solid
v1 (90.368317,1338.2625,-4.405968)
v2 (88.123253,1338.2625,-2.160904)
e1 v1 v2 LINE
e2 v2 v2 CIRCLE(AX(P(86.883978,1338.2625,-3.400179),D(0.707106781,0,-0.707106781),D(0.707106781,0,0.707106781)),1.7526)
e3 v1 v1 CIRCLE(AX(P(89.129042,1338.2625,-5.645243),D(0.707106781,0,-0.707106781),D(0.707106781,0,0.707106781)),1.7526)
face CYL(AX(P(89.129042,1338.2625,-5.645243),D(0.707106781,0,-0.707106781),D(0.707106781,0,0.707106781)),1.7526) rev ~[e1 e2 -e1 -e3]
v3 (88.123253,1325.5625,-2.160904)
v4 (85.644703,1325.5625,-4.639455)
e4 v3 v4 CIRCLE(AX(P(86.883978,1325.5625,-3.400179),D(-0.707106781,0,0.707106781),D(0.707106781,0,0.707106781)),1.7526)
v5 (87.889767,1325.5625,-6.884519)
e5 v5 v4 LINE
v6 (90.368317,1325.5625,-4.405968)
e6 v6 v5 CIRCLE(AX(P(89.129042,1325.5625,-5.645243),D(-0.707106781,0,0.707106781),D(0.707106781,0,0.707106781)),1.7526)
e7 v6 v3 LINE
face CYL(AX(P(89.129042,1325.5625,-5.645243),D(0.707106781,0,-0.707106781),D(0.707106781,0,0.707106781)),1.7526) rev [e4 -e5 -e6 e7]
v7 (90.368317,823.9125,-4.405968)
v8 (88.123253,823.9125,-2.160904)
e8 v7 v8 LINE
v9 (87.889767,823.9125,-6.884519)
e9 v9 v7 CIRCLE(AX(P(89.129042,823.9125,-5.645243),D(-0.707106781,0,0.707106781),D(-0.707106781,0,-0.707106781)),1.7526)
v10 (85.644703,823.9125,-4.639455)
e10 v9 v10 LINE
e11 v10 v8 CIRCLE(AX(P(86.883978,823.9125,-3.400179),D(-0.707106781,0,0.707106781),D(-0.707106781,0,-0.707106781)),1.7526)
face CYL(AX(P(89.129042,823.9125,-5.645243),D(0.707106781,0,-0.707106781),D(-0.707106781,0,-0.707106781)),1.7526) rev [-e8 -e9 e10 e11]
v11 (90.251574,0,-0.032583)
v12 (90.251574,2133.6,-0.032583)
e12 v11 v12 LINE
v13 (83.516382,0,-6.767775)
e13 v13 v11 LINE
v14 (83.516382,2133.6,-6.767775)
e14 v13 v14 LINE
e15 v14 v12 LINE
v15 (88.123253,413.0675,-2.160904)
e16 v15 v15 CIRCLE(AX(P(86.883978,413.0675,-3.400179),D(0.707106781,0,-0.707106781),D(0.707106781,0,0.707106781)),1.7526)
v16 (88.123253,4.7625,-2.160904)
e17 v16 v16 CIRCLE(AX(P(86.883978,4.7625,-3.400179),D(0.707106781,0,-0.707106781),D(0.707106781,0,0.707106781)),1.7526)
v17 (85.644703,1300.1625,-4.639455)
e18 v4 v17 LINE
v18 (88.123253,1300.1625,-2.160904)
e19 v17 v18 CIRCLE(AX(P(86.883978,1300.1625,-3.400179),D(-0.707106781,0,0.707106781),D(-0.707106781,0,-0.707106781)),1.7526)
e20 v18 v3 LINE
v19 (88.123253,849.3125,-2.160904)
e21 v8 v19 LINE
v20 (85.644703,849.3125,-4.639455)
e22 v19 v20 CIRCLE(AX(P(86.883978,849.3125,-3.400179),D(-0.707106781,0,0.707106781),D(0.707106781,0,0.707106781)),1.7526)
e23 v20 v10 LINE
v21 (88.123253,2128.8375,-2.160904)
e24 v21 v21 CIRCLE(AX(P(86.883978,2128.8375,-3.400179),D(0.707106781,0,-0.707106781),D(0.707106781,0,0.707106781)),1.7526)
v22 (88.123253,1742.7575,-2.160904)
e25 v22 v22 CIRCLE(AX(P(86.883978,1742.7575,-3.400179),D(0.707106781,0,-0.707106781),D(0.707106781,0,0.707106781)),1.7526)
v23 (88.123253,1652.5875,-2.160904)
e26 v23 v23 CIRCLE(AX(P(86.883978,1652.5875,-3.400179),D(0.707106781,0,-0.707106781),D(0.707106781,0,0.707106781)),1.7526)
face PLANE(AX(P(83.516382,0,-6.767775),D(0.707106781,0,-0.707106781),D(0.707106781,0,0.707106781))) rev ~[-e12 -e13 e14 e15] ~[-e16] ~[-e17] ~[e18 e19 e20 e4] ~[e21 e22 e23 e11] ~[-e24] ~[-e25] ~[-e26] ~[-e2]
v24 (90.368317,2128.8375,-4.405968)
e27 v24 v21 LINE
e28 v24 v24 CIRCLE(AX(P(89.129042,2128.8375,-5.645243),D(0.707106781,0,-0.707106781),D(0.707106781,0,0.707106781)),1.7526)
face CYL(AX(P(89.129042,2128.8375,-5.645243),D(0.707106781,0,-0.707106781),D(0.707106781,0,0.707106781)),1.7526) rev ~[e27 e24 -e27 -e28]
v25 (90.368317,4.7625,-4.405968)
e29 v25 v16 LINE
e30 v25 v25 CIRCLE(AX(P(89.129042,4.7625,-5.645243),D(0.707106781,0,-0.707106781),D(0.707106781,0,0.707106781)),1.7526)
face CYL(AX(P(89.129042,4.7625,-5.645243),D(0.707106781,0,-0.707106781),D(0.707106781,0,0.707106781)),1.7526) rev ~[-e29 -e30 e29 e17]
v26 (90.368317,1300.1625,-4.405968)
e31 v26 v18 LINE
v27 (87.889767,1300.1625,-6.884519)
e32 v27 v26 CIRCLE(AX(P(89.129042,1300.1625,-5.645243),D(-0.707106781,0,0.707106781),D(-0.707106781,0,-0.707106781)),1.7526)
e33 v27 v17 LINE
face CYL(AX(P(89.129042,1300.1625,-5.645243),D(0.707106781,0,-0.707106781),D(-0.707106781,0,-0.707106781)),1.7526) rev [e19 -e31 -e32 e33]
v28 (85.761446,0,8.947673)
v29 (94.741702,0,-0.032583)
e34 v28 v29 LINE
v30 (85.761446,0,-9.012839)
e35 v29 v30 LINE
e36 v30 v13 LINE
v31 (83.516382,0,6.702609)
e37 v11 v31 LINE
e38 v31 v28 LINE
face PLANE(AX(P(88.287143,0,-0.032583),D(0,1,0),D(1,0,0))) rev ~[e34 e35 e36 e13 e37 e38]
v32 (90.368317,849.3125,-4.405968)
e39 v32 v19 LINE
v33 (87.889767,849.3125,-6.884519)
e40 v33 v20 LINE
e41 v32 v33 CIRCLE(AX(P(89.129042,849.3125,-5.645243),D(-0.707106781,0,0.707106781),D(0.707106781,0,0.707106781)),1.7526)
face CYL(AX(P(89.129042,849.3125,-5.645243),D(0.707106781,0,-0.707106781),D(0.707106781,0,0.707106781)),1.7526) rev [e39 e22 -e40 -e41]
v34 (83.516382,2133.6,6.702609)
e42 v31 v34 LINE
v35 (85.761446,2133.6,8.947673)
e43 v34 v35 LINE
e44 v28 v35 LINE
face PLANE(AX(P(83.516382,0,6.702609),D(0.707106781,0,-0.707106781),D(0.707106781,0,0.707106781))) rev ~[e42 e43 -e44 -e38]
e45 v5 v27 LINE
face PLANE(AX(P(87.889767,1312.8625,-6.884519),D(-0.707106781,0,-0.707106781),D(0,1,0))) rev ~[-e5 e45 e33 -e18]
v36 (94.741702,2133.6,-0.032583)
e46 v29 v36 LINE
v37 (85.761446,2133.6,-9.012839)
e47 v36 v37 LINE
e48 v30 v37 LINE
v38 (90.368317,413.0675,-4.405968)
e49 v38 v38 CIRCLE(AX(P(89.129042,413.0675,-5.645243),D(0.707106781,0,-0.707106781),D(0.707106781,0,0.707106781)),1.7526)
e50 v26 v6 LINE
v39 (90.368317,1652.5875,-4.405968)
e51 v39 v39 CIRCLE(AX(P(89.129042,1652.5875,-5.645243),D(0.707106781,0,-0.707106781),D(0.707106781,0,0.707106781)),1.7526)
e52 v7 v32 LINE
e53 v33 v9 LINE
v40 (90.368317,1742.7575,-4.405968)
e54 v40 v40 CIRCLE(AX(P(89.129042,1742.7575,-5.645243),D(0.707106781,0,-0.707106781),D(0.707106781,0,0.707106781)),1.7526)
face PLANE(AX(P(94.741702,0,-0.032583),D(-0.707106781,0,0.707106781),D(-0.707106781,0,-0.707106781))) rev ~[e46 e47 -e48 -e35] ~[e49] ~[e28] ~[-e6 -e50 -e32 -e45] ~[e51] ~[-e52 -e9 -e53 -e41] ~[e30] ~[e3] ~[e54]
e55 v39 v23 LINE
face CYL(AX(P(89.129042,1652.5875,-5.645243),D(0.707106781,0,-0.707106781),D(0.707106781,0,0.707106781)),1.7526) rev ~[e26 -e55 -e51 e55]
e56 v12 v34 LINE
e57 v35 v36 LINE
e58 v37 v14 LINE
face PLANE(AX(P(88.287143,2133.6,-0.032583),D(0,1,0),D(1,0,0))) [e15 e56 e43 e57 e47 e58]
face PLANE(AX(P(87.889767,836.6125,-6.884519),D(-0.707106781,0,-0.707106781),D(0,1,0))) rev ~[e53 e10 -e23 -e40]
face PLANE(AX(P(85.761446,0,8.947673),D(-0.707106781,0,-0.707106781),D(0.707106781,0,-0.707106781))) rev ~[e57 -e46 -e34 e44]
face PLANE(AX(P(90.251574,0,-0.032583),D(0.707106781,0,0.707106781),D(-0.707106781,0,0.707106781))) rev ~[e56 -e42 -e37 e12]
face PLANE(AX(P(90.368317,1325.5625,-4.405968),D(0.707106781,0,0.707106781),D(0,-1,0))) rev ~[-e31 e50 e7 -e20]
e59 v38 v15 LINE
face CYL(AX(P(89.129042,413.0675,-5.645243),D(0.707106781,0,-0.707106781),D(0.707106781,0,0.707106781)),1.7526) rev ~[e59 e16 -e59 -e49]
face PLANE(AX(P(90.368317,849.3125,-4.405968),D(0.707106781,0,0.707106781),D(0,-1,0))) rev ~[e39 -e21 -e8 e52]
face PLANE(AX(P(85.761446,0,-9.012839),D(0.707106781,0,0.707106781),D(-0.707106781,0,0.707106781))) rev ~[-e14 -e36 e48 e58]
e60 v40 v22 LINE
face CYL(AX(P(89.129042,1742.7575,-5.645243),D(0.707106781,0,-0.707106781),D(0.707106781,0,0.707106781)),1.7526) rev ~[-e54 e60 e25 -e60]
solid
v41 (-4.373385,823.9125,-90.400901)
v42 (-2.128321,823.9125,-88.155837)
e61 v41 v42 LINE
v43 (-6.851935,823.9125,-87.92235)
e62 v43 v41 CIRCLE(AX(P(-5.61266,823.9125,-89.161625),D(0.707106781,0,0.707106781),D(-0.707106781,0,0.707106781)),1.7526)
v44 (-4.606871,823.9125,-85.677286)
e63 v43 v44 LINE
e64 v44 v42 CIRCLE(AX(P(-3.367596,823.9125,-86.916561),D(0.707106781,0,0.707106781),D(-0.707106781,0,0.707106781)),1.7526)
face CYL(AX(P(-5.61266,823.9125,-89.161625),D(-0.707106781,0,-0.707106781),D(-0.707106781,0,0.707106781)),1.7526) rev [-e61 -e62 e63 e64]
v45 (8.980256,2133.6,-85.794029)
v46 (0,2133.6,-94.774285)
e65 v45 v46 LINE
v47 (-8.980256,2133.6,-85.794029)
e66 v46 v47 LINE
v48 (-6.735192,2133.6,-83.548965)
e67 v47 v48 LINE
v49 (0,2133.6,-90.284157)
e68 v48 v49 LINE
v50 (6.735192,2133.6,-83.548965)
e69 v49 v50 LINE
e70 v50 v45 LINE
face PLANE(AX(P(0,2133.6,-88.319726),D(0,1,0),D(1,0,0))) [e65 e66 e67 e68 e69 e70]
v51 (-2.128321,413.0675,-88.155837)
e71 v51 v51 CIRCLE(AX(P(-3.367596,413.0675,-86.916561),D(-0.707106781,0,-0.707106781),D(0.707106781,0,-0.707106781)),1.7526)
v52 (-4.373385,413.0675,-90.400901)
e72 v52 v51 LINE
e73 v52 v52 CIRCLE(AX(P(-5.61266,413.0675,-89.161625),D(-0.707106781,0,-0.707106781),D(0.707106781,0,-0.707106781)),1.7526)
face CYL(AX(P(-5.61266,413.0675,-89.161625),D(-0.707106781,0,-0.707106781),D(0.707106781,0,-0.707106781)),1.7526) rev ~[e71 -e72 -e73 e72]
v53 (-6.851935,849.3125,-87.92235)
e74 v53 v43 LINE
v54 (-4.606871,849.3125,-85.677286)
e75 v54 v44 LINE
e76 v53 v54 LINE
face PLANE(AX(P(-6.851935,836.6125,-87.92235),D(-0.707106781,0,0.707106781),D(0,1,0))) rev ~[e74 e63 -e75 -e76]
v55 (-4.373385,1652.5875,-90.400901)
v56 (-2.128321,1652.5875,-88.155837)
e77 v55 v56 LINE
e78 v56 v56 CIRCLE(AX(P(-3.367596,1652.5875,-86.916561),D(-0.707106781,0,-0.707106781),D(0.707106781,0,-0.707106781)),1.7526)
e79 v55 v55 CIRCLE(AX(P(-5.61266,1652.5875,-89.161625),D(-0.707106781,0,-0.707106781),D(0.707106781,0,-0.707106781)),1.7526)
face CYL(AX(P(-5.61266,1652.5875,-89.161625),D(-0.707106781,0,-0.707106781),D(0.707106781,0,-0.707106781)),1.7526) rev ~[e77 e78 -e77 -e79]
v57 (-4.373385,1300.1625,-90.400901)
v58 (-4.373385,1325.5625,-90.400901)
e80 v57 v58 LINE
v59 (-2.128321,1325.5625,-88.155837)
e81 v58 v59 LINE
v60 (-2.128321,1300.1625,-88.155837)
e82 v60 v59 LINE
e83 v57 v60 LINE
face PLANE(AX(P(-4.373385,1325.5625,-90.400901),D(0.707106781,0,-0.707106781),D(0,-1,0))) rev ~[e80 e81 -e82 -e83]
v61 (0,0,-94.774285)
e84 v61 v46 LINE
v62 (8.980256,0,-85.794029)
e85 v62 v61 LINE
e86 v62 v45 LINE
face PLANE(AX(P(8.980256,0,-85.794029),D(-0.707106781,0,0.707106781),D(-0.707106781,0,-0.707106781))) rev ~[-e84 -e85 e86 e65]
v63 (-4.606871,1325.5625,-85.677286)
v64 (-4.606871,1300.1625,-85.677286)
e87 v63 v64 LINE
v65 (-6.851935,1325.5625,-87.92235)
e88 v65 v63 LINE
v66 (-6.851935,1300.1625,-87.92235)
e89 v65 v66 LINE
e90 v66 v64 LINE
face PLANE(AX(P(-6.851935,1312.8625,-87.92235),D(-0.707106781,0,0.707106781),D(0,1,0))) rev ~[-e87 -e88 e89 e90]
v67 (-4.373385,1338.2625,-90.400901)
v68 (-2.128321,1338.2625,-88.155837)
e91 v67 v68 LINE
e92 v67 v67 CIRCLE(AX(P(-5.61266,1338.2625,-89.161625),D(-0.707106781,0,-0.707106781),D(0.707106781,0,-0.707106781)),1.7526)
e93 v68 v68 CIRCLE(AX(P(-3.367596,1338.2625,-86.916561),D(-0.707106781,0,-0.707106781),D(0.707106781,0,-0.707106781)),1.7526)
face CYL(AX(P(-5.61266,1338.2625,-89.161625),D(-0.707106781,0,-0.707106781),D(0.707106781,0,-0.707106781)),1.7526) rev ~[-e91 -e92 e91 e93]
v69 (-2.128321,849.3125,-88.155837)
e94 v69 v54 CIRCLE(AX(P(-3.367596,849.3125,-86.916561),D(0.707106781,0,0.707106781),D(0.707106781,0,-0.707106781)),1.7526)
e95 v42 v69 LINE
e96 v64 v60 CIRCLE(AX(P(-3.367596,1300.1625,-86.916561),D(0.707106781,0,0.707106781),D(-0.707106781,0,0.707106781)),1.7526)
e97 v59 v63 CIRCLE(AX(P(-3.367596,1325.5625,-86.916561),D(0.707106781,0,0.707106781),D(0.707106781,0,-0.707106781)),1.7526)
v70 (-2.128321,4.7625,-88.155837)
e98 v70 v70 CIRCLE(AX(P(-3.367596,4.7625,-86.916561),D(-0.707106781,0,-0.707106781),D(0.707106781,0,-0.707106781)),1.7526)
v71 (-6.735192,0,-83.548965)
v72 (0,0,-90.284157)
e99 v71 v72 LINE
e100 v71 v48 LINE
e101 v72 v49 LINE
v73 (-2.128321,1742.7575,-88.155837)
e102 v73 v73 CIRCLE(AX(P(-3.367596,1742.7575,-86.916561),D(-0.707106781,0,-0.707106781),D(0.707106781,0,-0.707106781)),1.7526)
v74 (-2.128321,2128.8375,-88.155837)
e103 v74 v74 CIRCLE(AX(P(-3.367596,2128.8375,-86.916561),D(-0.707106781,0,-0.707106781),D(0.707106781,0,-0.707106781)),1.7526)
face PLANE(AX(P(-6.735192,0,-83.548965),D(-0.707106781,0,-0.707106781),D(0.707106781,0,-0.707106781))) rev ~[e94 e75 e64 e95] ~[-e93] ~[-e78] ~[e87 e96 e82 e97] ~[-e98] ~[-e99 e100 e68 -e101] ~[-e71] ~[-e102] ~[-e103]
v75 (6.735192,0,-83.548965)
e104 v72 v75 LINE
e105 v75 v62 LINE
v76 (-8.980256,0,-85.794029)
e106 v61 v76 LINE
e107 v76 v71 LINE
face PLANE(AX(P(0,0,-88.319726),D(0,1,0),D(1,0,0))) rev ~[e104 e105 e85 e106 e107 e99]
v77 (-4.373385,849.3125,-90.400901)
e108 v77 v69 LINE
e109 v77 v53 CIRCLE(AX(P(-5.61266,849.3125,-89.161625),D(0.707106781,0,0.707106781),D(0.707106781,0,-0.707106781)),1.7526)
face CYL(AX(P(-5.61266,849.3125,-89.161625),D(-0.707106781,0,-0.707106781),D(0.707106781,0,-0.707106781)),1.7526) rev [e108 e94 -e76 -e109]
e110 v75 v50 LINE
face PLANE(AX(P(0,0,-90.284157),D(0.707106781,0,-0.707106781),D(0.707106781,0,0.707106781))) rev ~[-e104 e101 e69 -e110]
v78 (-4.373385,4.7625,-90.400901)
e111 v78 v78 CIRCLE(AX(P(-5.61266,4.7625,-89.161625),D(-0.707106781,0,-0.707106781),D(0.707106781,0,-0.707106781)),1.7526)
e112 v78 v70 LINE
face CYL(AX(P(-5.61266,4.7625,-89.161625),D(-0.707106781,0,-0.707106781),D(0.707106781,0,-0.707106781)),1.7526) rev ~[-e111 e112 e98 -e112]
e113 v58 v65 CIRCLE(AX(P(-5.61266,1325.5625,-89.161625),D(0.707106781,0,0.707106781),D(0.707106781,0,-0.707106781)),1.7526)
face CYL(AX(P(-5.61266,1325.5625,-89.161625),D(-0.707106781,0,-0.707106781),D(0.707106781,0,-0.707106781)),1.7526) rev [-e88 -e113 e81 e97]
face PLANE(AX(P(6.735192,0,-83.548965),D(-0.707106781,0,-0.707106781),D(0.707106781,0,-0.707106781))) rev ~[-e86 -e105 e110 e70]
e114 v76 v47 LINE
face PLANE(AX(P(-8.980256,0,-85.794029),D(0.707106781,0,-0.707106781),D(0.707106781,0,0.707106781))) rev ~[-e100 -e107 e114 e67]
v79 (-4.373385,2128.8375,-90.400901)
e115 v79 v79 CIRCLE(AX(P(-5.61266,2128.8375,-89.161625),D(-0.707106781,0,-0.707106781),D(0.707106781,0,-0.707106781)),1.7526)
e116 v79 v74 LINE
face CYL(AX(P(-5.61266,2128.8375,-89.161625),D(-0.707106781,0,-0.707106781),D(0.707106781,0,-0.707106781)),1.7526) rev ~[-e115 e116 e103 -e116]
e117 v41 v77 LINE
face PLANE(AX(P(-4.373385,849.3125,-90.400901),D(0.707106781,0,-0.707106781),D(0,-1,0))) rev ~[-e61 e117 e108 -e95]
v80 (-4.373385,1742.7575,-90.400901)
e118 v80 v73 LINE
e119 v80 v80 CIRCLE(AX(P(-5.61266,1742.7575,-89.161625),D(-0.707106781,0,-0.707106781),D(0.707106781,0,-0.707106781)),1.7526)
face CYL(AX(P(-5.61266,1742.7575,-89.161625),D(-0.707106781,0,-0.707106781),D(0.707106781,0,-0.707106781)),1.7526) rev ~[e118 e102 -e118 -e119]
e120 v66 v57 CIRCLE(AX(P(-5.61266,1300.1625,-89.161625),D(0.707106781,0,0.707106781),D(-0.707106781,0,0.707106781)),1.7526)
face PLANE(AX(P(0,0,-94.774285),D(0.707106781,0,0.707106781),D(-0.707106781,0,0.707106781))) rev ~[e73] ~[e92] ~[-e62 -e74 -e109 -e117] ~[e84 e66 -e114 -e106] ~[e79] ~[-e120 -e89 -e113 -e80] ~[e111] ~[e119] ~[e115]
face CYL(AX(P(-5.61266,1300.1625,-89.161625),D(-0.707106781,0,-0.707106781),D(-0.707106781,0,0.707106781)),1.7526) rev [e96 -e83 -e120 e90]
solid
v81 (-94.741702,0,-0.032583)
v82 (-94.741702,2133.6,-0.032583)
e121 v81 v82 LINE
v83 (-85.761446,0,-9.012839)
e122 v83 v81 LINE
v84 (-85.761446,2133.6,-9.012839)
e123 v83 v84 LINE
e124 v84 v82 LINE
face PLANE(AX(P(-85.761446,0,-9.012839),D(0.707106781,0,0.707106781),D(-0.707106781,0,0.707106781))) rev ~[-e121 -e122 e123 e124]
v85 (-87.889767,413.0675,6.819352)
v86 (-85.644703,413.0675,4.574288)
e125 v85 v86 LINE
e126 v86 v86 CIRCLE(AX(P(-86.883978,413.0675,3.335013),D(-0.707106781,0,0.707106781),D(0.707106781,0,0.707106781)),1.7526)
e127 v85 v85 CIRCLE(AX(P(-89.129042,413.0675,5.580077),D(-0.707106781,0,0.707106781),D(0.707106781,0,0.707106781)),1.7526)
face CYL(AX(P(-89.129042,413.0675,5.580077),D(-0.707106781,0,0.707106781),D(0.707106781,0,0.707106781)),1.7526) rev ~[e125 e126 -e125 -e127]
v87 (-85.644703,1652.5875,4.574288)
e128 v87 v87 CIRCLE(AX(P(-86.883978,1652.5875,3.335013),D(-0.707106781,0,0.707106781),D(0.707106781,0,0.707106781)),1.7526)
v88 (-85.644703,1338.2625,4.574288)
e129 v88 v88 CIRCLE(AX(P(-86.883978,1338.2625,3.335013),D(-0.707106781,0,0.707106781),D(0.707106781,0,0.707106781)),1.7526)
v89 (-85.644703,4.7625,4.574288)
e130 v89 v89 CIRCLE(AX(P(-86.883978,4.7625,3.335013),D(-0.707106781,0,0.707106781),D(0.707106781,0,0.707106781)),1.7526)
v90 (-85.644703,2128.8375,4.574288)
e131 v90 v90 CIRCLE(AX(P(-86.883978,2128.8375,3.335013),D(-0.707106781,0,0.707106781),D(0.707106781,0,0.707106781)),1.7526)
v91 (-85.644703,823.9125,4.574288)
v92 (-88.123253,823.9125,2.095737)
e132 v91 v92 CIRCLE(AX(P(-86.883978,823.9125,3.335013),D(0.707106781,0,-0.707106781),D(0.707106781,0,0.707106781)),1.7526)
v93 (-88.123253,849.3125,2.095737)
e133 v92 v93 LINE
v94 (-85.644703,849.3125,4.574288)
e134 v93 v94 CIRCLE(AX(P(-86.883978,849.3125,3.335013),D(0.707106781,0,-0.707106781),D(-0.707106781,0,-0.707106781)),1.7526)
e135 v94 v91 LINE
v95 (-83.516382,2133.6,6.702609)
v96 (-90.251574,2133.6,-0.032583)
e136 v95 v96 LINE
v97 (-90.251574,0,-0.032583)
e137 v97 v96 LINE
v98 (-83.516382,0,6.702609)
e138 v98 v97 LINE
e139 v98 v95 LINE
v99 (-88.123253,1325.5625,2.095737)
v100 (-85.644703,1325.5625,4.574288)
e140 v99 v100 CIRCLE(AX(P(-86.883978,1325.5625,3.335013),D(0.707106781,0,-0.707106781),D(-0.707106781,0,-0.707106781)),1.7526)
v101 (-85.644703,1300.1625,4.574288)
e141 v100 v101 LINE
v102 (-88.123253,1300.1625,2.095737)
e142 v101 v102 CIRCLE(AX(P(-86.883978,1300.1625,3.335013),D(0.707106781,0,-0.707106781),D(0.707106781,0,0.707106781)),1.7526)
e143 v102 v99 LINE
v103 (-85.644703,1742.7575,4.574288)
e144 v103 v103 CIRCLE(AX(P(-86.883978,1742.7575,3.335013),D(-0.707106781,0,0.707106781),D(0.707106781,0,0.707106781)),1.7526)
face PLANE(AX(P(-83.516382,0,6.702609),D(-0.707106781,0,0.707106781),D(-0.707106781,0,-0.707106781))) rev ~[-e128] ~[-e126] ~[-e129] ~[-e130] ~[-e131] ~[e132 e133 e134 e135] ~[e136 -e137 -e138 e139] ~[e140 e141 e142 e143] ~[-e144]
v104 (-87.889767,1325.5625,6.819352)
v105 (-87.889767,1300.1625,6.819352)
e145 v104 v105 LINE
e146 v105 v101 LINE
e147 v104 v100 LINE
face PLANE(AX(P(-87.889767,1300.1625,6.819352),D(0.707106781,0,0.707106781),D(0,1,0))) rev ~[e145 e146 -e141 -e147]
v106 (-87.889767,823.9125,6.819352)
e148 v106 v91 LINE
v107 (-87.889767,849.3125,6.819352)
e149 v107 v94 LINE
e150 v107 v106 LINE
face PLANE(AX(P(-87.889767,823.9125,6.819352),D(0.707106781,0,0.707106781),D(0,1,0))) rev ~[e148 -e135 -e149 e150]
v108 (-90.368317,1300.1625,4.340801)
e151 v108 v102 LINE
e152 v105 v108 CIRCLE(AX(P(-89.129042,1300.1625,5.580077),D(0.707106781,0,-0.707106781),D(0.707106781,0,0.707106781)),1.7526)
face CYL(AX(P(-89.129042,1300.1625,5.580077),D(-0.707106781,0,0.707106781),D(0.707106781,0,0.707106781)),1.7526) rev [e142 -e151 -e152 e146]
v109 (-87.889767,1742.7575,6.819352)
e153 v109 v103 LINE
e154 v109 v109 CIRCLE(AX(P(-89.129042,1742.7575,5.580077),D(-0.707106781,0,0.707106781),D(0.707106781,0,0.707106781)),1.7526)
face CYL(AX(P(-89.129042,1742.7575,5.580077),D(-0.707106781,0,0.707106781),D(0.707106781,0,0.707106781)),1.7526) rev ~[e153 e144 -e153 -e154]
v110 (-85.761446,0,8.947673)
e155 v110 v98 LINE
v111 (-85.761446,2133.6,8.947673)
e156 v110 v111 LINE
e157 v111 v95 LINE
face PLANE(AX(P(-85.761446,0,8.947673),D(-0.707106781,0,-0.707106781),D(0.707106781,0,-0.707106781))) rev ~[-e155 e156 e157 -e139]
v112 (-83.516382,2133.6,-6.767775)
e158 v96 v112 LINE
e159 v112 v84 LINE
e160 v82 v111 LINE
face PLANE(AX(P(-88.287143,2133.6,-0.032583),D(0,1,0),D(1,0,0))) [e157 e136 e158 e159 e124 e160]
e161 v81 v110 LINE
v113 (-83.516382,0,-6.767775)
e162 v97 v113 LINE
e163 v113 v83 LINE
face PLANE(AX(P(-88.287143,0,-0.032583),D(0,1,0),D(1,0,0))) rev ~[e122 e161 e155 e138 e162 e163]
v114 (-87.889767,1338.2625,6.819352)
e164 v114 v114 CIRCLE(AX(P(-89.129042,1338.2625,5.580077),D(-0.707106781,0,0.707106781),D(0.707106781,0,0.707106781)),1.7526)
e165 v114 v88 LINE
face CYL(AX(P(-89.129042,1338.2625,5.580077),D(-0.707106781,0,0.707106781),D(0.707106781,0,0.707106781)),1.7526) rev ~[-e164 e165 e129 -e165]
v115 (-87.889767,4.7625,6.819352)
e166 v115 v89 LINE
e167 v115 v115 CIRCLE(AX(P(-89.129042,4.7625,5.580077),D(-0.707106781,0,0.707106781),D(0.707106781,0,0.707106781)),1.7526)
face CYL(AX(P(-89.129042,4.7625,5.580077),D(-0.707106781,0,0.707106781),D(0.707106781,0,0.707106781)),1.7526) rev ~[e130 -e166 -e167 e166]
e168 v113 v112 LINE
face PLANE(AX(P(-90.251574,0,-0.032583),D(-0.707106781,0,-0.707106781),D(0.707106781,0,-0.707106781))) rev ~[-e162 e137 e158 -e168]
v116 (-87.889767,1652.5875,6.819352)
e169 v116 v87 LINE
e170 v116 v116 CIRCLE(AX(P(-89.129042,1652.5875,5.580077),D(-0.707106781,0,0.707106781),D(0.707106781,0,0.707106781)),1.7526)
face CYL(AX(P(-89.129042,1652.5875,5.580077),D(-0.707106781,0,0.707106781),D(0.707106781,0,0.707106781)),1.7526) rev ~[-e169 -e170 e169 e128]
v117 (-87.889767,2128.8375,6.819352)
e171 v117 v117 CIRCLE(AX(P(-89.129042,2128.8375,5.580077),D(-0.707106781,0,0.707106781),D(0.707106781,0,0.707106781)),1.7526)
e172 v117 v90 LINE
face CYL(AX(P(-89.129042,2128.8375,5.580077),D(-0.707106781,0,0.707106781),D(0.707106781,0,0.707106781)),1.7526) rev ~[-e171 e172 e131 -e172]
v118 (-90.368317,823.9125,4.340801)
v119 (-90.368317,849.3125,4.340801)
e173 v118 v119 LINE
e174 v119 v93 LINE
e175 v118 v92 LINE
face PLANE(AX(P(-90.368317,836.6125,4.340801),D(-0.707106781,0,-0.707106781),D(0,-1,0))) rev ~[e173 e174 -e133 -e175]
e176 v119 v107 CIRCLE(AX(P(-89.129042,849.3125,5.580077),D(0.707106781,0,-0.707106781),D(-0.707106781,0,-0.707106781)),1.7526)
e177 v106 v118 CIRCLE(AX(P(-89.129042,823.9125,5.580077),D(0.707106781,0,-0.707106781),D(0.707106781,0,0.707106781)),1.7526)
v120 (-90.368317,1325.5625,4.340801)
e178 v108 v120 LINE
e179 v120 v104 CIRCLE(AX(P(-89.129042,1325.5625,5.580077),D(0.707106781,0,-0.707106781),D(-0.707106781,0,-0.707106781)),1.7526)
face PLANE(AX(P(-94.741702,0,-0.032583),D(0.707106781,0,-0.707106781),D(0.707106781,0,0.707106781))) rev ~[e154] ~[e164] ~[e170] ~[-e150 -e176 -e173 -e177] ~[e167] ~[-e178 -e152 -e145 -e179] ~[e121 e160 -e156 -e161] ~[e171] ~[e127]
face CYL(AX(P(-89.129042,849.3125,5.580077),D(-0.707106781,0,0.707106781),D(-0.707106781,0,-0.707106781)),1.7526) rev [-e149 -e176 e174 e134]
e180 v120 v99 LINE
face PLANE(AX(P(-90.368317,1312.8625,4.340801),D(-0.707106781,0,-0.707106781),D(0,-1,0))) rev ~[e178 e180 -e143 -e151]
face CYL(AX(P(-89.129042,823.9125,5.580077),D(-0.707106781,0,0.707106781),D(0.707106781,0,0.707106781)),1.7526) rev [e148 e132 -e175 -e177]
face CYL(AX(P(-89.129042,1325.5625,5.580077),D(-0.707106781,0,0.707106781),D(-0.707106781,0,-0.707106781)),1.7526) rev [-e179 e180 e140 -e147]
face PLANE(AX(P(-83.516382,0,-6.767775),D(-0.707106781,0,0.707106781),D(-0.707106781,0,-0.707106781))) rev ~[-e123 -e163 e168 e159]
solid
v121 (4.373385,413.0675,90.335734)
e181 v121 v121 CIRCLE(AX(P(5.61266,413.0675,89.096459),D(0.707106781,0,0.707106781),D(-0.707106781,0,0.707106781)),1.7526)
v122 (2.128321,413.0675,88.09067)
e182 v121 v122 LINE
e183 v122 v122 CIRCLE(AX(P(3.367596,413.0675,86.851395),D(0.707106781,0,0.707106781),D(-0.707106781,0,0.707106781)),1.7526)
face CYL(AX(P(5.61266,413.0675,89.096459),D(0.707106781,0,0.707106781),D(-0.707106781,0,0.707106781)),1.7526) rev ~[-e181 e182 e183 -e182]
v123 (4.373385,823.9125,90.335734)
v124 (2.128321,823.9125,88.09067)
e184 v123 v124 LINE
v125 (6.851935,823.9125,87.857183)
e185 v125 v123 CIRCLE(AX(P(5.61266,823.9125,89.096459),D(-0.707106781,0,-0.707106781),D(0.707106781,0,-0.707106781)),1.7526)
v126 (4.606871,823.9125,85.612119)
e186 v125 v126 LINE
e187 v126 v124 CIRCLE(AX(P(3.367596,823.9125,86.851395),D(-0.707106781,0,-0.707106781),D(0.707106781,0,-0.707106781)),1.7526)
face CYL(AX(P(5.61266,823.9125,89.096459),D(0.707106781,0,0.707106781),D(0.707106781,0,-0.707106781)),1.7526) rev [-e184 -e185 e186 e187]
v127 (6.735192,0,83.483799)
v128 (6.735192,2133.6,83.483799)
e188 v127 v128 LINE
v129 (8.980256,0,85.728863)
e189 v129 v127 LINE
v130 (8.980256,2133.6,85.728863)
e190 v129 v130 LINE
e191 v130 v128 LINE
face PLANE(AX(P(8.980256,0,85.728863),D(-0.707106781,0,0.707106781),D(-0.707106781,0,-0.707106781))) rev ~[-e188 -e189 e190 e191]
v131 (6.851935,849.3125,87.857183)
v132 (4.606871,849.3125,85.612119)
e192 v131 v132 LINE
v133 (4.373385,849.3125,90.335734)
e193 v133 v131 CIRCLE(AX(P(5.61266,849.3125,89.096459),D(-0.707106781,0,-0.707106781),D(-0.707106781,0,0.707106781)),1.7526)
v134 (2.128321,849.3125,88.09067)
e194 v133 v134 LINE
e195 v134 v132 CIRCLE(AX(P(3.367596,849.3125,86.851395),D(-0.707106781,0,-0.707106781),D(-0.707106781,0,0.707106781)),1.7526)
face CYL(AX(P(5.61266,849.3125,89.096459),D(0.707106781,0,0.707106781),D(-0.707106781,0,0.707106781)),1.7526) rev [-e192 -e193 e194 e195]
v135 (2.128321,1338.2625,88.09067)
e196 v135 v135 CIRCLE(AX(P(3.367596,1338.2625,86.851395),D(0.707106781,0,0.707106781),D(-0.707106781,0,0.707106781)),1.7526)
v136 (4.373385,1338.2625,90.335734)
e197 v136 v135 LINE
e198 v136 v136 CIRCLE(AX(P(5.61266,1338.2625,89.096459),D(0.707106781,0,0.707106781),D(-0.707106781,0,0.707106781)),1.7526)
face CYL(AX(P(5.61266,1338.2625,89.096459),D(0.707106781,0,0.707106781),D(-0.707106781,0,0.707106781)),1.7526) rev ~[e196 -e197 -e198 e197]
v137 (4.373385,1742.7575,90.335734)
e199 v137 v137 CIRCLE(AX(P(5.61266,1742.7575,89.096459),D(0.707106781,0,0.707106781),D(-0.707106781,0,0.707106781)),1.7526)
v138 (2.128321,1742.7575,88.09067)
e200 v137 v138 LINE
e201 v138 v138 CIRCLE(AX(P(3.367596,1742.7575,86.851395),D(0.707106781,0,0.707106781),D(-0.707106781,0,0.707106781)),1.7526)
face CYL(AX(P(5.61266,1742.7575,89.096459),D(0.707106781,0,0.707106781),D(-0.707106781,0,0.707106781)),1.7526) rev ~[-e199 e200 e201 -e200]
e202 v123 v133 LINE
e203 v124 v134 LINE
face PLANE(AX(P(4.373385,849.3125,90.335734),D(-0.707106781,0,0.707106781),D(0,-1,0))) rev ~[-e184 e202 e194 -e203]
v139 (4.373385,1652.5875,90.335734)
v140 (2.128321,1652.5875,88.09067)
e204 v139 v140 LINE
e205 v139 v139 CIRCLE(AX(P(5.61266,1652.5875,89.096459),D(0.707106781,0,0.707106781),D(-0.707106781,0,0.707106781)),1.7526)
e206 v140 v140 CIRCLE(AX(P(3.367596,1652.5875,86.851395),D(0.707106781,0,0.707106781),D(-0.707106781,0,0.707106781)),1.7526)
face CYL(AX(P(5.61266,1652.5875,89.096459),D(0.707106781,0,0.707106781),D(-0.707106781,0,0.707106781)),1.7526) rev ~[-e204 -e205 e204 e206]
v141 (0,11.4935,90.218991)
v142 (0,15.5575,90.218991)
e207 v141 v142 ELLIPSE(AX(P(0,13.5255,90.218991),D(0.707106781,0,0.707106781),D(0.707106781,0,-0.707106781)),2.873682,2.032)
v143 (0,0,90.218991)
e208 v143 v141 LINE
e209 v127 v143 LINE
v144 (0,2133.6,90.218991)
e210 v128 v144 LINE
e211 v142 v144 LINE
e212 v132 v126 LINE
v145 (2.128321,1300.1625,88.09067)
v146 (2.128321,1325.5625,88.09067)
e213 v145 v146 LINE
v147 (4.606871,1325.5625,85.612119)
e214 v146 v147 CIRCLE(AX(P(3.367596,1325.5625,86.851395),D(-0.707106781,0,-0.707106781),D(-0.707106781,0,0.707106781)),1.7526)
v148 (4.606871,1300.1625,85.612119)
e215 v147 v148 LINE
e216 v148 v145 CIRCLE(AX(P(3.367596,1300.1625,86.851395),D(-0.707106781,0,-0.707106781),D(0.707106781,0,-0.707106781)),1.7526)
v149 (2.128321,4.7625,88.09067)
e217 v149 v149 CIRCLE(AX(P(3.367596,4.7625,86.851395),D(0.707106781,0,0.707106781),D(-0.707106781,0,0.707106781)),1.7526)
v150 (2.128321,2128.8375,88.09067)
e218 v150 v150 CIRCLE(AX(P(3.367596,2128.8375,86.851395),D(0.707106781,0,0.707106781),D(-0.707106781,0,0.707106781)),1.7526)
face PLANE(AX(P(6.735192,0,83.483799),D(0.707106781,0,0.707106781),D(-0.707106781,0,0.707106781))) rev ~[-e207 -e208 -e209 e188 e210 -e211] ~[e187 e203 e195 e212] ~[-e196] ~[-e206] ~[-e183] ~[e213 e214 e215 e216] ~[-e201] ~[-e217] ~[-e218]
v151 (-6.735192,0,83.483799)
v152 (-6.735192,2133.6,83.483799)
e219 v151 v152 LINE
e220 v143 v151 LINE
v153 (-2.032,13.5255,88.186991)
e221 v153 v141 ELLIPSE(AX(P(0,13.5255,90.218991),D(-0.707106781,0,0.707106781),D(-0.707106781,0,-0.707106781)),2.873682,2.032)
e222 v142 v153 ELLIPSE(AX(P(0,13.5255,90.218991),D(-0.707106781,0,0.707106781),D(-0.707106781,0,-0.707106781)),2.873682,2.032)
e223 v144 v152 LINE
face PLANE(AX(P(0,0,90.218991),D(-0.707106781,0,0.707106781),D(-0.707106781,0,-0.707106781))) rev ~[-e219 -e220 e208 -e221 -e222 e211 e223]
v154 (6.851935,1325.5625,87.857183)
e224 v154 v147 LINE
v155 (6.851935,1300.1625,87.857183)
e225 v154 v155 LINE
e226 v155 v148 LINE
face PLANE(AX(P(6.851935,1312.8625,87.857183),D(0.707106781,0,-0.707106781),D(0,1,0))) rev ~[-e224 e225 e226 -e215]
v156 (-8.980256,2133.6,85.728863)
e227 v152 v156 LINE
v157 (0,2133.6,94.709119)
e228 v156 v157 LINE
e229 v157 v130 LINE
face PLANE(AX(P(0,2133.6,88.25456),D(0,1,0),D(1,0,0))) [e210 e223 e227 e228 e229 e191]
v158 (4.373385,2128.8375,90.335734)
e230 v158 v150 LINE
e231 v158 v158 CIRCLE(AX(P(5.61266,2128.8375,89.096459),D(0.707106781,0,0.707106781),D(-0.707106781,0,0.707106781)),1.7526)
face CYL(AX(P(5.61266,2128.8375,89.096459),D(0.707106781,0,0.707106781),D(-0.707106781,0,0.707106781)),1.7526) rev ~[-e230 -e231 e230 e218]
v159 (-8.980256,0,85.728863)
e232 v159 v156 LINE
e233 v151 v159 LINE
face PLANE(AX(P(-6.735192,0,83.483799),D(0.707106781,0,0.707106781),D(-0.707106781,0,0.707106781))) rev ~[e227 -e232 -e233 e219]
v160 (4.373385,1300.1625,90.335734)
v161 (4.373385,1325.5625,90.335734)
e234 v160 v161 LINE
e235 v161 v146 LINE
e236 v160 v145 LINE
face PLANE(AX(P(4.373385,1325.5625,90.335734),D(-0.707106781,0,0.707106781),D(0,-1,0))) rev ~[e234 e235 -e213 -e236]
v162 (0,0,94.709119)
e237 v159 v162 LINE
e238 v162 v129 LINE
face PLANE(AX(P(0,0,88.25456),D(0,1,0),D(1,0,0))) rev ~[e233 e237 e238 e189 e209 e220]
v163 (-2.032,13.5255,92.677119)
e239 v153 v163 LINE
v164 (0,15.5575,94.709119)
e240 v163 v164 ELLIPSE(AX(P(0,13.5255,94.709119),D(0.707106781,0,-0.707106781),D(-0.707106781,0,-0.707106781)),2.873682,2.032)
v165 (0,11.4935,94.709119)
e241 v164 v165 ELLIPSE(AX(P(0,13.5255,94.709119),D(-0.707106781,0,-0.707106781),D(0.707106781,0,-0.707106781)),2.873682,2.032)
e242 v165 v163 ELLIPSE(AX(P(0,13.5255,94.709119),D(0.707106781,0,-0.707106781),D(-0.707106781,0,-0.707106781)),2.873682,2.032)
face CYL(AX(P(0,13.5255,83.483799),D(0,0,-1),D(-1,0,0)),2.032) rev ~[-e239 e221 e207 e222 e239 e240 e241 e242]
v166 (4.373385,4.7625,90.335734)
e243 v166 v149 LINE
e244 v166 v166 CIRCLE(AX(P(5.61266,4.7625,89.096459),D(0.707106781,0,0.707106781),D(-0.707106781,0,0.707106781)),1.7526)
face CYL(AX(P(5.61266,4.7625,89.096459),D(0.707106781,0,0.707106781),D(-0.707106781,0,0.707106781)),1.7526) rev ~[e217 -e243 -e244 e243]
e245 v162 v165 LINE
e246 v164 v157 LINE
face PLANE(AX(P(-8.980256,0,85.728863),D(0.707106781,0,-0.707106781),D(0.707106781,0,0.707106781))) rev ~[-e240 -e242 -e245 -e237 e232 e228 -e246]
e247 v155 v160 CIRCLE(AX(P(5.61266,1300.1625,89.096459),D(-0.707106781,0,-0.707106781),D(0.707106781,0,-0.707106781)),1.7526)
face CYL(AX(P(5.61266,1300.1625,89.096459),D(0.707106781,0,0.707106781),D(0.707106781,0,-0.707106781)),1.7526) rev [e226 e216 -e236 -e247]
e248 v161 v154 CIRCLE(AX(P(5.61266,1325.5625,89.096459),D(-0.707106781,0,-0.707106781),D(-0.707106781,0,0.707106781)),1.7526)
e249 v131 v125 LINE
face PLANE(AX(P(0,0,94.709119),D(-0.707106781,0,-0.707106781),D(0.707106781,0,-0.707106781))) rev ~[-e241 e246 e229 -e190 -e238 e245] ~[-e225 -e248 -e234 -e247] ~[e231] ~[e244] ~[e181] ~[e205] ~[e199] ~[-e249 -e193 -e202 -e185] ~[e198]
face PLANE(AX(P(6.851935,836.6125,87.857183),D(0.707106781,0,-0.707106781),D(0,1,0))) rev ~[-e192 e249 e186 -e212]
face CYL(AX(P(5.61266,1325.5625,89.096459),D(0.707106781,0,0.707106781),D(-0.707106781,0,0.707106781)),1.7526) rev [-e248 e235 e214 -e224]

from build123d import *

# Parameters (mm, degrees)
BOSS_EXTRUDE1_DEPTH   = 2133.6
BOSS_EXTRUDE1_2_DEPTH = 2133.6
BOSS_EXTRUDE1_3_DEPTH = 2133.6
BOSS_EXTRUDE1_4_DEPTH = 2133.6
CUT_EXTRUDE1_DEPTH    = 3.175
CUT_EXTRUDE2_DEPTH    = 3.175
CUT_EXTRUDE3_DEPTH    = 3.175
CUT_EXTRUDE4_DEPTH    = 3.175
LPATTERN1_COUNT       = 2
LPATTERN1_PITCH       = 408.305
LPATTERN2_COUNT       = 2
LPATTERN2_PITCH       = 831.85
CUT_EXTRUDE5_DEPTH    = 3.175
CUT_EXTRUDE6_DEPTH    = 3.175
CUT_EXTRUDE7_DEPTH    = 3.175
CUT_EXTRUDE8_DEPTH    = 3.175
LPATTERN12_COUNT      = 2
LPATTERN12_PITCH      = 1308.1
LPATTERN13_COUNT      = 2
LPATTERN13_PITCH      = 476.25
LPATTERN16_COUNT      = 2
LPATTERN16_PITCH      = 1647.825
LPATTERN17_COUNT      = 2
LPATTERN17_PITCH      = 1333.5
LPATTERN18_COUNT      = 2
LPATTERN18_PITCH      = 1737.995
LPATTERN19_COUNT      = 2
LPATTERN19_PITCH      = 2124.075
SKETCH13_R            = 2.032
CUT_EXTRUDE9_DEPTH    = 12.225320151


with BuildPart() as part:
    # Sketch2 → Boss-Extrude1 (new body)
    with BuildSketch(Plane(origin=(0, 0, 0), x_dir=(1, 0, 0), z_dir=(0, 1, 0))):
        Polygon((0, 94.77428536), (-8.980256121, 85.794029239), (-6.735192091, 83.548965209), (0, 90.2841573), (6.735192091, 83.548965209), (8.980256121, 85.794029239), align=None)
    extrude(amount=BOSS_EXTRUDE1_DEPTH)

    # Sketch5 → Cut-Extrude2 (cut)
    with BuildSketch(Plane(origin=(-47.38714268, 0, -47.38714268), x_dir=(-0.707106781, 0, 0.707106781), z_dir=(-0.707106781, 0, -0.707106781))):
        with BuildLine():
            ThreePointArc((-57.32543986, 4.7625), (-59.07803986, 6.5151), (-60.83063986, 4.7625))
            Line((-60.83063986, 4.7625), (-57.32543986, 4.7625))
        make_face()
        with BuildLine():
            Line((-57.32543986, 4.7625), (-60.83063986, 4.7625))
            ThreePointArc((-60.83063986, 4.7625), (-59.07803986, 3.0099), (-57.32543986, 4.7625))
        make_face()
    cut_extrude2 = extrude(amount=-CUT_EXTRUDE2_DEPTH, mode=Mode.SUBTRACT)


with BuildPart() as body_2:
    # Sketch2 → Boss-Extrude1 2 (new body)
    with BuildSketch(Plane(origin=(0, 0, 0), x_dir=(1, 0, 0), z_dir=(0, 1, 0))):
        Polygon((94.741702077, 0.032583283), (85.761445956, 9.012839404), (83.516381926, 6.767775374), (90.251574017, 0.032583283), (83.516381926, -6.702608808), (85.761445956, -8.947672838), align=None)
    extrude(amount=BOSS_EXTRUDE1_2_DEPTH)

    # Sketch6 → Cut-Extrude3 (cut)
    with BuildSketch(Plane(origin=(47.38714268, 0, -47.38714268), x_dir=(-0.707106781, 0, -0.707106781), z_dir=(0.707106781, 0, -0.707106781))):
        with BuildLine():
            ThreePointArc((-57.27936014, 4.7625), (-59.03196014, 6.5151), (-60.78456014, 4.7625))
            Line((-60.78456014, 4.7625), (-57.27936014, 4.7625))
        make_face()
        with BuildLine():
            Line((-57.27936014, 4.7625), (-60.78456014, 4.7625))
            ThreePointArc((-60.78456014, 4.7625), (-59.03196014, 3.0099), (-57.27936014, 4.7625))
        make_face()
    cut_extrude3 = extrude(amount=-CUT_EXTRUDE3_DEPTH, mode=Mode.SUBTRACT)


with BuildPart() as body_3:
    # Sketch2 → Boss-Extrude1 3 (new body)
    with BuildSketch(Plane(origin=(0, 0, 0), x_dir=(1, 0, 0), z_dir=(0, 1, 0))):
        Polygon((0, -94.709118794), (8.980256121, -85.728862673), (6.735192091, -83.483798643), (0, -90.218990734), (-6.735192091, -83.483798643), (-8.980256121, -85.728862673), align=None)
    extrude(amount=BOSS_EXTRUDE1_3_DEPTH)

    # Sketch7 → Cut-Extrude4 (cut)
    with BuildSketch(Plane(origin=(47.354559397, 0, 47.354559397), x_dir=(0.707106781, 0, -0.707106781), z_dir=(0.707106781, 0, 0.707106781))):
        with BuildLine():
            ThreePointArc((-57.27936014, 4.7625), (-59.03196014, 6.5151), (-60.78456014, 4.7625))
            Line((-60.78456014, 4.7625), (-57.27936014, 4.7625))
        make_face()
        with BuildLine():
            Line((-57.27936014, 4.7625), (-60.78456014, 4.7625))
            ThreePointArc((-60.78456014, 4.7625), (-59.03196014, 3.0099), (-57.27936014, 4.7625))
        make_face()
    cut_extrude4 = extrude(amount=-CUT_EXTRUDE4_DEPTH, mode=Mode.SUBTRACT)


with BuildPart() as body_4:
    # Sketch2 → Boss-Extrude1 4 (new body)
    with BuildSketch(Plane(origin=(0, 0, 0), x_dir=(1, 0, 0), z_dir=(0, 1, 0))):
        Polygon((-94.741702077, 0.032583283), (-85.761445956, -8.947672838), (-83.516381926, -6.702608808), (-90.251574017, 0.032583283), (-83.516381926, 6.767775374), (-85.761445956, 9.012839404), align=None)
    extrude(amount=BOSS_EXTRUDE1_4_DEPTH)

    # Sketch4 → Cut-Extrude1 (cut)
    with BuildSketch(Plane(origin=(-47.354559397, 0, 47.354559397), x_dir=(0.707106781, 0, 0.707106781), z_dir=(-0.707106781, 0, 0.707106781))):
        with BuildLine():
            ThreePointArc((-60.83063986, 4.7625), (-59.07803986, 3.0099), (-57.32543986, 4.7625))
            Line((-57.32543986, 4.7625), (-60.83063986, 4.7625))
        make_face()
        with BuildLine():
            Line((-60.83063986, 4.7625), (-57.32543986, 4.7625))
            ThreePointArc((-57.32543986, 4.7625), (-59.07803986, 6.5151), (-60.83063986, 4.7625))
        make_face()
    cut_extrude1 = extrude(amount=-CUT_EXTRUDE1_DEPTH, mode=Mode.SUBTRACT)


with BuildPart() as lpattern1_tool:
    # LPattern1: Cut-Extrude1, Cut-Extrude2, Cut-Extrude3, Cut-Extrude4 ×2
    with Locations(*[(0, i * LPATTERN1_PITCH, 0) for i in range(1, LPATTERN1_COUNT)]):
        add(cut_extrude1)
        add(cut_extrude2)
        add(cut_extrude3)
        add(cut_extrude4)


with BuildPart() as part_1:
    add(part.part)

    # LPattern1: cut by lpattern1_tool
    add(lpattern1_tool.part, mode=Mode.SUBTRACT)


with BuildPart() as body_2_1:
    add(body_2.part)

    # LPattern1: cut by lpattern1_tool
    add(lpattern1_tool.part, mode=Mode.SUBTRACT)


with BuildPart() as body_3_1:
    add(body_3.part)

    # LPattern1: cut by lpattern1_tool
    add(lpattern1_tool.part, mode=Mode.SUBTRACT)


with BuildPart() as body_4_1:
    add(body_4.part)

    # LPattern1: cut by lpattern1_tool
    add(lpattern1_tool.part, mode=Mode.SUBTRACT)


with BuildPart() as lpattern2_tool:
    # LPattern2: Cut-Extrude1, Cut-Extrude2, Cut-Extrude3, Cut-Extrude4 ×2
    with Locations(*[(0, i * LPATTERN2_PITCH, 0) for i in range(1, LPATTERN2_COUNT)]):
        add(cut_extrude1)
        add(cut_extrude2)
        add(cut_extrude3)
        add(cut_extrude4)


with BuildPart() as part_2:
    add(part_1.part)

    # LPattern2: cut by lpattern2_tool
    add(lpattern2_tool.part, mode=Mode.SUBTRACT)

    # Sketch10 → Cut-Extrude7 (cut)
    with BuildSketch(Plane(origin=(-47.38714268, 0, -47.38714268), x_dir=(-0.707106781, 0, 0.707106781), z_dir=(-0.707106781, 0, -0.707106781))):
        with BuildLine():
            ThreePointArc((-60.83063986, 849.3125), (-59.07803986, 851.0651), (-57.32543986, 849.3125))
            Line((-57.32543986, 849.3125), (-60.83063986, 849.3125))
        make_face()
        with BuildLine():
            Line((-60.83063986, 849.3125), (-60.83063986, 836.6125))
            ThreePointArc((-60.83063986, 836.6125), (-59.07803986, 838.3651), (-57.32543986, 836.6125))
            Line((-57.32543986, 836.6125), (-57.32543986, 849.3125))
            Line((-57.32543986, 849.3125), (-60.83063986, 849.3125))
        make_face()
        with BuildLine():
            Line((-60.83063986, 836.6125), (-60.83063986, 823.9125))
            Line((-60.83063986, 823.9125), (-57.32543986, 823.9125))
            Line((-57.32543986, 823.9125), (-57.32543986, 836.6125))
            ThreePointArc((-57.32543986, 836.6125), (-59.07803986, 834.8599), (-60.83063986, 836.6125))
        make_face()
        with BuildLine():
            Line((-60.83063986, 823.9125), (-57.32543986, 823.9125))
            ThreePointArc((-57.32543986, 823.9125), (-59.07803986, 822.1599), (-60.83063986, 823.9125))
        make_face()
    cut_extrude7 = extrude(amount=-CUT_EXTRUDE7_DEPTH, mode=Mode.SUBTRACT)


with BuildPart() as body_2_2:
    add(body_2_1.part)

    # LPattern2: cut by lpattern2_tool
    add(lpattern2_tool.part, mode=Mode.SUBTRACT)

    # Sketch11 → Cut-Extrude8 (cut)
    with BuildSketch(Plane(origin=(47.38714268, 0, -47.38714268), x_dir=(-0.707106781, 0, -0.707106781), z_dir=(0.707106781, 0, -0.707106781))):
        with BuildLine():
            ThreePointArc((-60.78456014, 849.3125), (-59.03196014, 851.0651), (-57.27936014, 849.3125))
            Line((-57.27936014, 849.3125), (-60.78456014, 849.3125))
        make_face()
        with BuildLine():
            Line((-60.78456014, 849.3125), (-60.78456014, 836.612500003))
            ThreePointArc((-60.78456014, 836.612500003), (-59.031960138, 838.3651), (-57.27936014, 836.6125))
            Line((-57.27936014, 836.6125), (-57.27936014, 849.3125))
            Line((-57.27936014, 849.3125), (-60.78456014, 849.3125))
        make_face()
        with BuildLine():
            Line((-60.78456014, 836.612500003), (-60.78456014, 823.9125))
            Line((-60.78456014, 823.9125), (-57.27936014, 823.9125))
            Line((-57.27936014, 823.9125), (-57.27936014, 836.6125))
            ThreePointArc((-57.27936014, 836.6125), (-59.031960141, 834.8599), (-60.78456014, 836.612500003))
        make_face()
        with BuildLine():
            Line((-60.78456014, 823.9125), (-57.27936014, 823.9125))
            ThreePointArc((-57.27936014, 823.9125), (-59.03196014, 822.1599), (-60.78456014, 823.9125))
        make_face()
    cut_extrude8 = extrude(amount=-CUT_EXTRUDE8_DEPTH, mode=Mode.SUBTRACT)


with BuildPart() as body_3_2:
    add(body_3_1.part)

    # LPattern2: cut by lpattern2_tool
    add(lpattern2_tool.part, mode=Mode.SUBTRACT)

    # Sketch8 → Cut-Extrude5 (cut)
    with BuildSketch(Plane(origin=(47.354559397, 0, 47.354559397), x_dir=(0.707106781, 0, -0.707106781), z_dir=(0.707106781, 0, 0.707106781))):
        with BuildLine():
            ThreePointArc((-60.78456014, 849.3125), (-59.03196014, 851.0651), (-57.27936014, 849.3125))
            Line((-57.27936014, 849.3125), (-60.78456014, 849.3125))
        make_face()
        with BuildLine():
            Line((-60.78456014, 849.3125), (-60.78456014, 836.6125))
            ThreePointArc((-60.78456014, 836.6125), (-59.03196014, 838.3651), (-57.27936014, 836.6125))
            Line((-57.27936014, 836.6125), (-57.27936014, 849.3125))
            Line((-57.27936014, 849.3125), (-60.78456014, 849.3125))
        make_face()
        with BuildLine():
            Line((-60.78456014, 836.6125), (-60.78456014, 823.9125))
            Line((-60.78456014, 823.9125), (-57.27936014, 823.9125))
            Line((-57.27936014, 823.9125), (-57.27936014, 836.6125))
            ThreePointArc((-57.27936014, 836.6125), (-59.03196014, 834.8599), (-60.78456014, 836.6125))
        make_face()
        with BuildLine():
            ThreePointArc((-57.27936014, 823.9125), (-59.03196014, 822.1599), (-60.78456014, 823.9125))
            Line((-60.78456014, 823.9125), (-57.27936014, 823.9125))
        make_face()
    cut_extrude5 = extrude(amount=-CUT_EXTRUDE5_DEPTH, mode=Mode.SUBTRACT)


with BuildPart() as body_4_2:
    add(body_4_1.part)

    # LPattern2: cut by lpattern2_tool
    add(lpattern2_tool.part, mode=Mode.SUBTRACT)

    # Sketch9 → Cut-Extrude6 (cut)
    with BuildSketch(Plane(origin=(-47.354559397, 0, 47.354559397), x_dir=(0.707106781, 0, 0.707106781), z_dir=(-0.707106781, 0, 0.707106781))):
        with BuildLine():
            ThreePointArc((-60.83063986, 849.3125), (-59.07803986, 851.0651), (-57.32543986, 849.3125))
            Line((-57.32543986, 849.3125), (-60.83063986, 849.3125))
        make_face()
        with BuildLine():
            Line((-60.83063986, 849.3125), (-60.83063986, 836.6125))
            ThreePointArc((-60.83063986, 836.6125), (-59.07803986, 838.3651), (-57.32543986, 836.6125))
            Line((-57.32543986, 836.6125), (-57.32543986, 849.3125))
            Line((-57.32543986, 849.3125), (-60.83063986, 849.3125))
        make_face()
        with BuildLine():
            Line((-60.83063986, 836.6125), (-60.83063986, 823.9125))
            Line((-60.83063986, 823.9125), (-57.32543986, 823.9125))
            Line((-57.32543986, 823.9125), (-57.32543986, 836.6125))
            ThreePointArc((-57.32543986, 836.6125), (-59.07803986, 834.8599), (-60.83063986, 836.6125))
        make_face()
        with BuildLine():
            ThreePointArc((-57.32543986, 823.9125), (-59.07803986, 822.1599), (-60.83063986, 823.9125))
            Line((-60.83063986, 823.9125), (-57.32543986, 823.9125))
        make_face()
    cut_extrude6 = extrude(amount=-CUT_EXTRUDE6_DEPTH, mode=Mode.SUBTRACT)


with BuildPart() as lpattern12_tool:
    # LPattern12: Cut-Extrude1, Cut-Extrude2, Cut-Extrude3, Cut-Extrude4 ×2
    with Locations(*[(0, i * LPATTERN12_PITCH, 0) for i in range(1, LPATTERN12_COUNT)]):
        add(cut_extrude1)
        add(cut_extrude2)
        add(cut_extrude3)
        add(cut_extrude4)


with BuildPart() as part_3:
    add(part_2.part)

    # LPattern12: cut by lpattern12_tool
    add(lpattern12_tool.part, mode=Mode.SUBTRACT)


with BuildPart() as body_2_3:
    add(body_2_2.part)

    # LPattern12: cut by lpattern12_tool
    add(lpattern12_tool.part, mode=Mode.SUBTRACT)


with BuildPart() as body_3_3:
    add(body_3_2.part)

    # LPattern12: cut by lpattern12_tool
    add(lpattern12_tool.part, mode=Mode.SUBTRACT)


with BuildPart() as body_4_3:
    add(body_4_2.part)

    # LPattern12: cut by lpattern12_tool
    add(lpattern12_tool.part, mode=Mode.SUBTRACT)


with BuildPart() as lpattern13_tool:
    # LPattern13: Cut-Extrude5, Cut-Extrude6, Cut-Extrude7, Cut-Extrude8 ×2
    with Locations(*[(0, i * LPATTERN13_PITCH, 0) for i in range(1, LPATTERN13_COUNT)]):
        add(cut_extrude5)
        add(cut_extrude6)
        add(cut_extrude7)
        add(cut_extrude8)


with BuildPart() as part_4:
    add(part_3.part)

    # LPattern13: cut by lpattern13_tool
    add(lpattern13_tool.part, mode=Mode.SUBTRACT)


with BuildPart() as body_2_4:
    add(body_2_3.part)

    # LPattern13: cut by lpattern13_tool
    add(lpattern13_tool.part, mode=Mode.SUBTRACT)


with BuildPart() as body_3_4:
    add(body_3_3.part)

    # LPattern13: cut by lpattern13_tool
    add(lpattern13_tool.part, mode=Mode.SUBTRACT)


with BuildPart() as body_4_4:
    add(body_4_3.part)

    # LPattern13: cut by lpattern13_tool
    add(lpattern13_tool.part, mode=Mode.SUBTRACT)


with BuildPart() as lpattern16_tool:
    # LPattern16: Cut-Extrude1, Cut-Extrude2, Cut-Extrude3, Cut-Extrude4 ×2
    with Locations(*[(0, i * LPATTERN16_PITCH, 0) for i in range(1, LPATTERN16_COUNT)]):
        add(cut_extrude1)
        add(cut_extrude2)
        add(cut_extrude3)
        add(cut_extrude4)


with BuildPart() as part_5:
    add(part_4.part)

    # LPattern16: cut by lpattern16_tool
    add(lpattern16_tool.part, mode=Mode.SUBTRACT)


with BuildPart() as body_2_5:
    add(body_2_4.part)

    # LPattern16: cut by lpattern16_tool
    add(lpattern16_tool.part, mode=Mode.SUBTRACT)


with BuildPart() as body_3_5:
    add(body_3_4.part)

    # LPattern16: cut by lpattern16_tool
    add(lpattern16_tool.part, mode=Mode.SUBTRACT)


with BuildPart() as body_4_5:
    add(body_4_4.part)

    # LPattern16: cut by lpattern16_tool
    add(lpattern16_tool.part, mode=Mode.SUBTRACT)


with BuildPart() as lpattern17_tool:
    # LPattern17: Cut-Extrude1, Cut-Extrude2, Cut-Extrude3, Cut-Extrude4 ×2
    with Locations(*[(0, i * LPATTERN17_PITCH, 0) for i in range(1, LPATTERN17_COUNT)]):
        add(cut_extrude1)
        add(cut_extrude2)
        add(cut_extrude3)
        add(cut_extrude4)


with BuildPart() as part_6:
    add(part_5.part)

    # LPattern17: cut by lpattern17_tool
    add(lpattern17_tool.part, mode=Mode.SUBTRACT)


with BuildPart() as body_2_6:
    add(body_2_5.part)

    # LPattern17: cut by lpattern17_tool
    add(lpattern17_tool.part, mode=Mode.SUBTRACT)


with BuildPart() as body_3_6:
    add(body_3_5.part)

    # LPattern17: cut by lpattern17_tool
    add(lpattern17_tool.part, mode=Mode.SUBTRACT)


with BuildPart() as body_4_6:
    add(body_4_5.part)

    # LPattern17: cut by lpattern17_tool
    add(lpattern17_tool.part, mode=Mode.SUBTRACT)


with BuildPart() as lpattern18_tool:
    # LPattern18: Cut-Extrude1, Cut-Extrude2, Cut-Extrude3, Cut-Extrude4 ×2
    with Locations(*[(0, i * LPATTERN18_PITCH, 0) for i in range(1, LPATTERN18_COUNT)]):
        add(cut_extrude1)
        add(cut_extrude2)
        add(cut_extrude3)
        add(cut_extrude4)


with BuildPart() as part_7:
    add(part_6.part)

    # LPattern18: cut by lpattern18_tool
    add(lpattern18_tool.part, mode=Mode.SUBTRACT)


with BuildPart() as body_2_7:
    add(body_2_6.part)

    # LPattern18: cut by lpattern18_tool
    add(lpattern18_tool.part, mode=Mode.SUBTRACT)


with BuildPart() as body_3_7:
    add(body_3_6.part)

    # LPattern18: cut by lpattern18_tool
    add(lpattern18_tool.part, mode=Mode.SUBTRACT)


with BuildPart() as body_4_7:
    add(body_4_6.part)

    # LPattern18: cut by lpattern18_tool
    add(lpattern18_tool.part, mode=Mode.SUBTRACT)


with BuildPart() as lpattern19_tool:
    # LPattern19: Cut-Extrude1, Cut-Extrude2, Cut-Extrude3, Cut-Extrude4 ×2
    with Locations(*[(0, i * LPATTERN19_PITCH, 0) for i in range(1, LPATTERN19_COUNT)]):
        add(cut_extrude1)
        add(cut_extrude2)
        add(cut_extrude3)
        add(cut_extrude4)


with BuildPart() as part_8:
    add(part_7.part)

    # LPattern19: cut by lpattern19_tool
    add(lpattern19_tool.part, mode=Mode.SUBTRACT)


with BuildPart() as body_2_8:
    add(body_2_7.part)

    # LPattern19: cut by lpattern19_tool
    add(lpattern19_tool.part, mode=Mode.SUBTRACT)


with BuildPart() as body_3_8:
    add(body_3_7.part)

    # LPattern19: cut by lpattern19_tool
    add(lpattern19_tool.part, mode=Mode.SUBTRACT)

    # Sketch13 → Cut-Extrude9 (cut, through all)
    with BuildSketch(Plane(origin=(0, 0, 83.483798643), x_dir=(-1, 0, 0), z_dir=(0, 0, -1))):
        with Locations((0, 13.5255)):
            Circle(SKETCH13_R)
    extrude(amount=-CUT_EXTRUDE9_DEPTH, mode=Mode.SUBTRACT)


with BuildPart() as body_4_8:
    add(body_4_7.part)

    # LPattern19: cut by lpattern19_tool
    add(lpattern19_tool.part, mode=Mode.SUBTRACT)


solid = Compound([part_8.part, body_2_8.part, body_3_8.part, body_4_8.part])
